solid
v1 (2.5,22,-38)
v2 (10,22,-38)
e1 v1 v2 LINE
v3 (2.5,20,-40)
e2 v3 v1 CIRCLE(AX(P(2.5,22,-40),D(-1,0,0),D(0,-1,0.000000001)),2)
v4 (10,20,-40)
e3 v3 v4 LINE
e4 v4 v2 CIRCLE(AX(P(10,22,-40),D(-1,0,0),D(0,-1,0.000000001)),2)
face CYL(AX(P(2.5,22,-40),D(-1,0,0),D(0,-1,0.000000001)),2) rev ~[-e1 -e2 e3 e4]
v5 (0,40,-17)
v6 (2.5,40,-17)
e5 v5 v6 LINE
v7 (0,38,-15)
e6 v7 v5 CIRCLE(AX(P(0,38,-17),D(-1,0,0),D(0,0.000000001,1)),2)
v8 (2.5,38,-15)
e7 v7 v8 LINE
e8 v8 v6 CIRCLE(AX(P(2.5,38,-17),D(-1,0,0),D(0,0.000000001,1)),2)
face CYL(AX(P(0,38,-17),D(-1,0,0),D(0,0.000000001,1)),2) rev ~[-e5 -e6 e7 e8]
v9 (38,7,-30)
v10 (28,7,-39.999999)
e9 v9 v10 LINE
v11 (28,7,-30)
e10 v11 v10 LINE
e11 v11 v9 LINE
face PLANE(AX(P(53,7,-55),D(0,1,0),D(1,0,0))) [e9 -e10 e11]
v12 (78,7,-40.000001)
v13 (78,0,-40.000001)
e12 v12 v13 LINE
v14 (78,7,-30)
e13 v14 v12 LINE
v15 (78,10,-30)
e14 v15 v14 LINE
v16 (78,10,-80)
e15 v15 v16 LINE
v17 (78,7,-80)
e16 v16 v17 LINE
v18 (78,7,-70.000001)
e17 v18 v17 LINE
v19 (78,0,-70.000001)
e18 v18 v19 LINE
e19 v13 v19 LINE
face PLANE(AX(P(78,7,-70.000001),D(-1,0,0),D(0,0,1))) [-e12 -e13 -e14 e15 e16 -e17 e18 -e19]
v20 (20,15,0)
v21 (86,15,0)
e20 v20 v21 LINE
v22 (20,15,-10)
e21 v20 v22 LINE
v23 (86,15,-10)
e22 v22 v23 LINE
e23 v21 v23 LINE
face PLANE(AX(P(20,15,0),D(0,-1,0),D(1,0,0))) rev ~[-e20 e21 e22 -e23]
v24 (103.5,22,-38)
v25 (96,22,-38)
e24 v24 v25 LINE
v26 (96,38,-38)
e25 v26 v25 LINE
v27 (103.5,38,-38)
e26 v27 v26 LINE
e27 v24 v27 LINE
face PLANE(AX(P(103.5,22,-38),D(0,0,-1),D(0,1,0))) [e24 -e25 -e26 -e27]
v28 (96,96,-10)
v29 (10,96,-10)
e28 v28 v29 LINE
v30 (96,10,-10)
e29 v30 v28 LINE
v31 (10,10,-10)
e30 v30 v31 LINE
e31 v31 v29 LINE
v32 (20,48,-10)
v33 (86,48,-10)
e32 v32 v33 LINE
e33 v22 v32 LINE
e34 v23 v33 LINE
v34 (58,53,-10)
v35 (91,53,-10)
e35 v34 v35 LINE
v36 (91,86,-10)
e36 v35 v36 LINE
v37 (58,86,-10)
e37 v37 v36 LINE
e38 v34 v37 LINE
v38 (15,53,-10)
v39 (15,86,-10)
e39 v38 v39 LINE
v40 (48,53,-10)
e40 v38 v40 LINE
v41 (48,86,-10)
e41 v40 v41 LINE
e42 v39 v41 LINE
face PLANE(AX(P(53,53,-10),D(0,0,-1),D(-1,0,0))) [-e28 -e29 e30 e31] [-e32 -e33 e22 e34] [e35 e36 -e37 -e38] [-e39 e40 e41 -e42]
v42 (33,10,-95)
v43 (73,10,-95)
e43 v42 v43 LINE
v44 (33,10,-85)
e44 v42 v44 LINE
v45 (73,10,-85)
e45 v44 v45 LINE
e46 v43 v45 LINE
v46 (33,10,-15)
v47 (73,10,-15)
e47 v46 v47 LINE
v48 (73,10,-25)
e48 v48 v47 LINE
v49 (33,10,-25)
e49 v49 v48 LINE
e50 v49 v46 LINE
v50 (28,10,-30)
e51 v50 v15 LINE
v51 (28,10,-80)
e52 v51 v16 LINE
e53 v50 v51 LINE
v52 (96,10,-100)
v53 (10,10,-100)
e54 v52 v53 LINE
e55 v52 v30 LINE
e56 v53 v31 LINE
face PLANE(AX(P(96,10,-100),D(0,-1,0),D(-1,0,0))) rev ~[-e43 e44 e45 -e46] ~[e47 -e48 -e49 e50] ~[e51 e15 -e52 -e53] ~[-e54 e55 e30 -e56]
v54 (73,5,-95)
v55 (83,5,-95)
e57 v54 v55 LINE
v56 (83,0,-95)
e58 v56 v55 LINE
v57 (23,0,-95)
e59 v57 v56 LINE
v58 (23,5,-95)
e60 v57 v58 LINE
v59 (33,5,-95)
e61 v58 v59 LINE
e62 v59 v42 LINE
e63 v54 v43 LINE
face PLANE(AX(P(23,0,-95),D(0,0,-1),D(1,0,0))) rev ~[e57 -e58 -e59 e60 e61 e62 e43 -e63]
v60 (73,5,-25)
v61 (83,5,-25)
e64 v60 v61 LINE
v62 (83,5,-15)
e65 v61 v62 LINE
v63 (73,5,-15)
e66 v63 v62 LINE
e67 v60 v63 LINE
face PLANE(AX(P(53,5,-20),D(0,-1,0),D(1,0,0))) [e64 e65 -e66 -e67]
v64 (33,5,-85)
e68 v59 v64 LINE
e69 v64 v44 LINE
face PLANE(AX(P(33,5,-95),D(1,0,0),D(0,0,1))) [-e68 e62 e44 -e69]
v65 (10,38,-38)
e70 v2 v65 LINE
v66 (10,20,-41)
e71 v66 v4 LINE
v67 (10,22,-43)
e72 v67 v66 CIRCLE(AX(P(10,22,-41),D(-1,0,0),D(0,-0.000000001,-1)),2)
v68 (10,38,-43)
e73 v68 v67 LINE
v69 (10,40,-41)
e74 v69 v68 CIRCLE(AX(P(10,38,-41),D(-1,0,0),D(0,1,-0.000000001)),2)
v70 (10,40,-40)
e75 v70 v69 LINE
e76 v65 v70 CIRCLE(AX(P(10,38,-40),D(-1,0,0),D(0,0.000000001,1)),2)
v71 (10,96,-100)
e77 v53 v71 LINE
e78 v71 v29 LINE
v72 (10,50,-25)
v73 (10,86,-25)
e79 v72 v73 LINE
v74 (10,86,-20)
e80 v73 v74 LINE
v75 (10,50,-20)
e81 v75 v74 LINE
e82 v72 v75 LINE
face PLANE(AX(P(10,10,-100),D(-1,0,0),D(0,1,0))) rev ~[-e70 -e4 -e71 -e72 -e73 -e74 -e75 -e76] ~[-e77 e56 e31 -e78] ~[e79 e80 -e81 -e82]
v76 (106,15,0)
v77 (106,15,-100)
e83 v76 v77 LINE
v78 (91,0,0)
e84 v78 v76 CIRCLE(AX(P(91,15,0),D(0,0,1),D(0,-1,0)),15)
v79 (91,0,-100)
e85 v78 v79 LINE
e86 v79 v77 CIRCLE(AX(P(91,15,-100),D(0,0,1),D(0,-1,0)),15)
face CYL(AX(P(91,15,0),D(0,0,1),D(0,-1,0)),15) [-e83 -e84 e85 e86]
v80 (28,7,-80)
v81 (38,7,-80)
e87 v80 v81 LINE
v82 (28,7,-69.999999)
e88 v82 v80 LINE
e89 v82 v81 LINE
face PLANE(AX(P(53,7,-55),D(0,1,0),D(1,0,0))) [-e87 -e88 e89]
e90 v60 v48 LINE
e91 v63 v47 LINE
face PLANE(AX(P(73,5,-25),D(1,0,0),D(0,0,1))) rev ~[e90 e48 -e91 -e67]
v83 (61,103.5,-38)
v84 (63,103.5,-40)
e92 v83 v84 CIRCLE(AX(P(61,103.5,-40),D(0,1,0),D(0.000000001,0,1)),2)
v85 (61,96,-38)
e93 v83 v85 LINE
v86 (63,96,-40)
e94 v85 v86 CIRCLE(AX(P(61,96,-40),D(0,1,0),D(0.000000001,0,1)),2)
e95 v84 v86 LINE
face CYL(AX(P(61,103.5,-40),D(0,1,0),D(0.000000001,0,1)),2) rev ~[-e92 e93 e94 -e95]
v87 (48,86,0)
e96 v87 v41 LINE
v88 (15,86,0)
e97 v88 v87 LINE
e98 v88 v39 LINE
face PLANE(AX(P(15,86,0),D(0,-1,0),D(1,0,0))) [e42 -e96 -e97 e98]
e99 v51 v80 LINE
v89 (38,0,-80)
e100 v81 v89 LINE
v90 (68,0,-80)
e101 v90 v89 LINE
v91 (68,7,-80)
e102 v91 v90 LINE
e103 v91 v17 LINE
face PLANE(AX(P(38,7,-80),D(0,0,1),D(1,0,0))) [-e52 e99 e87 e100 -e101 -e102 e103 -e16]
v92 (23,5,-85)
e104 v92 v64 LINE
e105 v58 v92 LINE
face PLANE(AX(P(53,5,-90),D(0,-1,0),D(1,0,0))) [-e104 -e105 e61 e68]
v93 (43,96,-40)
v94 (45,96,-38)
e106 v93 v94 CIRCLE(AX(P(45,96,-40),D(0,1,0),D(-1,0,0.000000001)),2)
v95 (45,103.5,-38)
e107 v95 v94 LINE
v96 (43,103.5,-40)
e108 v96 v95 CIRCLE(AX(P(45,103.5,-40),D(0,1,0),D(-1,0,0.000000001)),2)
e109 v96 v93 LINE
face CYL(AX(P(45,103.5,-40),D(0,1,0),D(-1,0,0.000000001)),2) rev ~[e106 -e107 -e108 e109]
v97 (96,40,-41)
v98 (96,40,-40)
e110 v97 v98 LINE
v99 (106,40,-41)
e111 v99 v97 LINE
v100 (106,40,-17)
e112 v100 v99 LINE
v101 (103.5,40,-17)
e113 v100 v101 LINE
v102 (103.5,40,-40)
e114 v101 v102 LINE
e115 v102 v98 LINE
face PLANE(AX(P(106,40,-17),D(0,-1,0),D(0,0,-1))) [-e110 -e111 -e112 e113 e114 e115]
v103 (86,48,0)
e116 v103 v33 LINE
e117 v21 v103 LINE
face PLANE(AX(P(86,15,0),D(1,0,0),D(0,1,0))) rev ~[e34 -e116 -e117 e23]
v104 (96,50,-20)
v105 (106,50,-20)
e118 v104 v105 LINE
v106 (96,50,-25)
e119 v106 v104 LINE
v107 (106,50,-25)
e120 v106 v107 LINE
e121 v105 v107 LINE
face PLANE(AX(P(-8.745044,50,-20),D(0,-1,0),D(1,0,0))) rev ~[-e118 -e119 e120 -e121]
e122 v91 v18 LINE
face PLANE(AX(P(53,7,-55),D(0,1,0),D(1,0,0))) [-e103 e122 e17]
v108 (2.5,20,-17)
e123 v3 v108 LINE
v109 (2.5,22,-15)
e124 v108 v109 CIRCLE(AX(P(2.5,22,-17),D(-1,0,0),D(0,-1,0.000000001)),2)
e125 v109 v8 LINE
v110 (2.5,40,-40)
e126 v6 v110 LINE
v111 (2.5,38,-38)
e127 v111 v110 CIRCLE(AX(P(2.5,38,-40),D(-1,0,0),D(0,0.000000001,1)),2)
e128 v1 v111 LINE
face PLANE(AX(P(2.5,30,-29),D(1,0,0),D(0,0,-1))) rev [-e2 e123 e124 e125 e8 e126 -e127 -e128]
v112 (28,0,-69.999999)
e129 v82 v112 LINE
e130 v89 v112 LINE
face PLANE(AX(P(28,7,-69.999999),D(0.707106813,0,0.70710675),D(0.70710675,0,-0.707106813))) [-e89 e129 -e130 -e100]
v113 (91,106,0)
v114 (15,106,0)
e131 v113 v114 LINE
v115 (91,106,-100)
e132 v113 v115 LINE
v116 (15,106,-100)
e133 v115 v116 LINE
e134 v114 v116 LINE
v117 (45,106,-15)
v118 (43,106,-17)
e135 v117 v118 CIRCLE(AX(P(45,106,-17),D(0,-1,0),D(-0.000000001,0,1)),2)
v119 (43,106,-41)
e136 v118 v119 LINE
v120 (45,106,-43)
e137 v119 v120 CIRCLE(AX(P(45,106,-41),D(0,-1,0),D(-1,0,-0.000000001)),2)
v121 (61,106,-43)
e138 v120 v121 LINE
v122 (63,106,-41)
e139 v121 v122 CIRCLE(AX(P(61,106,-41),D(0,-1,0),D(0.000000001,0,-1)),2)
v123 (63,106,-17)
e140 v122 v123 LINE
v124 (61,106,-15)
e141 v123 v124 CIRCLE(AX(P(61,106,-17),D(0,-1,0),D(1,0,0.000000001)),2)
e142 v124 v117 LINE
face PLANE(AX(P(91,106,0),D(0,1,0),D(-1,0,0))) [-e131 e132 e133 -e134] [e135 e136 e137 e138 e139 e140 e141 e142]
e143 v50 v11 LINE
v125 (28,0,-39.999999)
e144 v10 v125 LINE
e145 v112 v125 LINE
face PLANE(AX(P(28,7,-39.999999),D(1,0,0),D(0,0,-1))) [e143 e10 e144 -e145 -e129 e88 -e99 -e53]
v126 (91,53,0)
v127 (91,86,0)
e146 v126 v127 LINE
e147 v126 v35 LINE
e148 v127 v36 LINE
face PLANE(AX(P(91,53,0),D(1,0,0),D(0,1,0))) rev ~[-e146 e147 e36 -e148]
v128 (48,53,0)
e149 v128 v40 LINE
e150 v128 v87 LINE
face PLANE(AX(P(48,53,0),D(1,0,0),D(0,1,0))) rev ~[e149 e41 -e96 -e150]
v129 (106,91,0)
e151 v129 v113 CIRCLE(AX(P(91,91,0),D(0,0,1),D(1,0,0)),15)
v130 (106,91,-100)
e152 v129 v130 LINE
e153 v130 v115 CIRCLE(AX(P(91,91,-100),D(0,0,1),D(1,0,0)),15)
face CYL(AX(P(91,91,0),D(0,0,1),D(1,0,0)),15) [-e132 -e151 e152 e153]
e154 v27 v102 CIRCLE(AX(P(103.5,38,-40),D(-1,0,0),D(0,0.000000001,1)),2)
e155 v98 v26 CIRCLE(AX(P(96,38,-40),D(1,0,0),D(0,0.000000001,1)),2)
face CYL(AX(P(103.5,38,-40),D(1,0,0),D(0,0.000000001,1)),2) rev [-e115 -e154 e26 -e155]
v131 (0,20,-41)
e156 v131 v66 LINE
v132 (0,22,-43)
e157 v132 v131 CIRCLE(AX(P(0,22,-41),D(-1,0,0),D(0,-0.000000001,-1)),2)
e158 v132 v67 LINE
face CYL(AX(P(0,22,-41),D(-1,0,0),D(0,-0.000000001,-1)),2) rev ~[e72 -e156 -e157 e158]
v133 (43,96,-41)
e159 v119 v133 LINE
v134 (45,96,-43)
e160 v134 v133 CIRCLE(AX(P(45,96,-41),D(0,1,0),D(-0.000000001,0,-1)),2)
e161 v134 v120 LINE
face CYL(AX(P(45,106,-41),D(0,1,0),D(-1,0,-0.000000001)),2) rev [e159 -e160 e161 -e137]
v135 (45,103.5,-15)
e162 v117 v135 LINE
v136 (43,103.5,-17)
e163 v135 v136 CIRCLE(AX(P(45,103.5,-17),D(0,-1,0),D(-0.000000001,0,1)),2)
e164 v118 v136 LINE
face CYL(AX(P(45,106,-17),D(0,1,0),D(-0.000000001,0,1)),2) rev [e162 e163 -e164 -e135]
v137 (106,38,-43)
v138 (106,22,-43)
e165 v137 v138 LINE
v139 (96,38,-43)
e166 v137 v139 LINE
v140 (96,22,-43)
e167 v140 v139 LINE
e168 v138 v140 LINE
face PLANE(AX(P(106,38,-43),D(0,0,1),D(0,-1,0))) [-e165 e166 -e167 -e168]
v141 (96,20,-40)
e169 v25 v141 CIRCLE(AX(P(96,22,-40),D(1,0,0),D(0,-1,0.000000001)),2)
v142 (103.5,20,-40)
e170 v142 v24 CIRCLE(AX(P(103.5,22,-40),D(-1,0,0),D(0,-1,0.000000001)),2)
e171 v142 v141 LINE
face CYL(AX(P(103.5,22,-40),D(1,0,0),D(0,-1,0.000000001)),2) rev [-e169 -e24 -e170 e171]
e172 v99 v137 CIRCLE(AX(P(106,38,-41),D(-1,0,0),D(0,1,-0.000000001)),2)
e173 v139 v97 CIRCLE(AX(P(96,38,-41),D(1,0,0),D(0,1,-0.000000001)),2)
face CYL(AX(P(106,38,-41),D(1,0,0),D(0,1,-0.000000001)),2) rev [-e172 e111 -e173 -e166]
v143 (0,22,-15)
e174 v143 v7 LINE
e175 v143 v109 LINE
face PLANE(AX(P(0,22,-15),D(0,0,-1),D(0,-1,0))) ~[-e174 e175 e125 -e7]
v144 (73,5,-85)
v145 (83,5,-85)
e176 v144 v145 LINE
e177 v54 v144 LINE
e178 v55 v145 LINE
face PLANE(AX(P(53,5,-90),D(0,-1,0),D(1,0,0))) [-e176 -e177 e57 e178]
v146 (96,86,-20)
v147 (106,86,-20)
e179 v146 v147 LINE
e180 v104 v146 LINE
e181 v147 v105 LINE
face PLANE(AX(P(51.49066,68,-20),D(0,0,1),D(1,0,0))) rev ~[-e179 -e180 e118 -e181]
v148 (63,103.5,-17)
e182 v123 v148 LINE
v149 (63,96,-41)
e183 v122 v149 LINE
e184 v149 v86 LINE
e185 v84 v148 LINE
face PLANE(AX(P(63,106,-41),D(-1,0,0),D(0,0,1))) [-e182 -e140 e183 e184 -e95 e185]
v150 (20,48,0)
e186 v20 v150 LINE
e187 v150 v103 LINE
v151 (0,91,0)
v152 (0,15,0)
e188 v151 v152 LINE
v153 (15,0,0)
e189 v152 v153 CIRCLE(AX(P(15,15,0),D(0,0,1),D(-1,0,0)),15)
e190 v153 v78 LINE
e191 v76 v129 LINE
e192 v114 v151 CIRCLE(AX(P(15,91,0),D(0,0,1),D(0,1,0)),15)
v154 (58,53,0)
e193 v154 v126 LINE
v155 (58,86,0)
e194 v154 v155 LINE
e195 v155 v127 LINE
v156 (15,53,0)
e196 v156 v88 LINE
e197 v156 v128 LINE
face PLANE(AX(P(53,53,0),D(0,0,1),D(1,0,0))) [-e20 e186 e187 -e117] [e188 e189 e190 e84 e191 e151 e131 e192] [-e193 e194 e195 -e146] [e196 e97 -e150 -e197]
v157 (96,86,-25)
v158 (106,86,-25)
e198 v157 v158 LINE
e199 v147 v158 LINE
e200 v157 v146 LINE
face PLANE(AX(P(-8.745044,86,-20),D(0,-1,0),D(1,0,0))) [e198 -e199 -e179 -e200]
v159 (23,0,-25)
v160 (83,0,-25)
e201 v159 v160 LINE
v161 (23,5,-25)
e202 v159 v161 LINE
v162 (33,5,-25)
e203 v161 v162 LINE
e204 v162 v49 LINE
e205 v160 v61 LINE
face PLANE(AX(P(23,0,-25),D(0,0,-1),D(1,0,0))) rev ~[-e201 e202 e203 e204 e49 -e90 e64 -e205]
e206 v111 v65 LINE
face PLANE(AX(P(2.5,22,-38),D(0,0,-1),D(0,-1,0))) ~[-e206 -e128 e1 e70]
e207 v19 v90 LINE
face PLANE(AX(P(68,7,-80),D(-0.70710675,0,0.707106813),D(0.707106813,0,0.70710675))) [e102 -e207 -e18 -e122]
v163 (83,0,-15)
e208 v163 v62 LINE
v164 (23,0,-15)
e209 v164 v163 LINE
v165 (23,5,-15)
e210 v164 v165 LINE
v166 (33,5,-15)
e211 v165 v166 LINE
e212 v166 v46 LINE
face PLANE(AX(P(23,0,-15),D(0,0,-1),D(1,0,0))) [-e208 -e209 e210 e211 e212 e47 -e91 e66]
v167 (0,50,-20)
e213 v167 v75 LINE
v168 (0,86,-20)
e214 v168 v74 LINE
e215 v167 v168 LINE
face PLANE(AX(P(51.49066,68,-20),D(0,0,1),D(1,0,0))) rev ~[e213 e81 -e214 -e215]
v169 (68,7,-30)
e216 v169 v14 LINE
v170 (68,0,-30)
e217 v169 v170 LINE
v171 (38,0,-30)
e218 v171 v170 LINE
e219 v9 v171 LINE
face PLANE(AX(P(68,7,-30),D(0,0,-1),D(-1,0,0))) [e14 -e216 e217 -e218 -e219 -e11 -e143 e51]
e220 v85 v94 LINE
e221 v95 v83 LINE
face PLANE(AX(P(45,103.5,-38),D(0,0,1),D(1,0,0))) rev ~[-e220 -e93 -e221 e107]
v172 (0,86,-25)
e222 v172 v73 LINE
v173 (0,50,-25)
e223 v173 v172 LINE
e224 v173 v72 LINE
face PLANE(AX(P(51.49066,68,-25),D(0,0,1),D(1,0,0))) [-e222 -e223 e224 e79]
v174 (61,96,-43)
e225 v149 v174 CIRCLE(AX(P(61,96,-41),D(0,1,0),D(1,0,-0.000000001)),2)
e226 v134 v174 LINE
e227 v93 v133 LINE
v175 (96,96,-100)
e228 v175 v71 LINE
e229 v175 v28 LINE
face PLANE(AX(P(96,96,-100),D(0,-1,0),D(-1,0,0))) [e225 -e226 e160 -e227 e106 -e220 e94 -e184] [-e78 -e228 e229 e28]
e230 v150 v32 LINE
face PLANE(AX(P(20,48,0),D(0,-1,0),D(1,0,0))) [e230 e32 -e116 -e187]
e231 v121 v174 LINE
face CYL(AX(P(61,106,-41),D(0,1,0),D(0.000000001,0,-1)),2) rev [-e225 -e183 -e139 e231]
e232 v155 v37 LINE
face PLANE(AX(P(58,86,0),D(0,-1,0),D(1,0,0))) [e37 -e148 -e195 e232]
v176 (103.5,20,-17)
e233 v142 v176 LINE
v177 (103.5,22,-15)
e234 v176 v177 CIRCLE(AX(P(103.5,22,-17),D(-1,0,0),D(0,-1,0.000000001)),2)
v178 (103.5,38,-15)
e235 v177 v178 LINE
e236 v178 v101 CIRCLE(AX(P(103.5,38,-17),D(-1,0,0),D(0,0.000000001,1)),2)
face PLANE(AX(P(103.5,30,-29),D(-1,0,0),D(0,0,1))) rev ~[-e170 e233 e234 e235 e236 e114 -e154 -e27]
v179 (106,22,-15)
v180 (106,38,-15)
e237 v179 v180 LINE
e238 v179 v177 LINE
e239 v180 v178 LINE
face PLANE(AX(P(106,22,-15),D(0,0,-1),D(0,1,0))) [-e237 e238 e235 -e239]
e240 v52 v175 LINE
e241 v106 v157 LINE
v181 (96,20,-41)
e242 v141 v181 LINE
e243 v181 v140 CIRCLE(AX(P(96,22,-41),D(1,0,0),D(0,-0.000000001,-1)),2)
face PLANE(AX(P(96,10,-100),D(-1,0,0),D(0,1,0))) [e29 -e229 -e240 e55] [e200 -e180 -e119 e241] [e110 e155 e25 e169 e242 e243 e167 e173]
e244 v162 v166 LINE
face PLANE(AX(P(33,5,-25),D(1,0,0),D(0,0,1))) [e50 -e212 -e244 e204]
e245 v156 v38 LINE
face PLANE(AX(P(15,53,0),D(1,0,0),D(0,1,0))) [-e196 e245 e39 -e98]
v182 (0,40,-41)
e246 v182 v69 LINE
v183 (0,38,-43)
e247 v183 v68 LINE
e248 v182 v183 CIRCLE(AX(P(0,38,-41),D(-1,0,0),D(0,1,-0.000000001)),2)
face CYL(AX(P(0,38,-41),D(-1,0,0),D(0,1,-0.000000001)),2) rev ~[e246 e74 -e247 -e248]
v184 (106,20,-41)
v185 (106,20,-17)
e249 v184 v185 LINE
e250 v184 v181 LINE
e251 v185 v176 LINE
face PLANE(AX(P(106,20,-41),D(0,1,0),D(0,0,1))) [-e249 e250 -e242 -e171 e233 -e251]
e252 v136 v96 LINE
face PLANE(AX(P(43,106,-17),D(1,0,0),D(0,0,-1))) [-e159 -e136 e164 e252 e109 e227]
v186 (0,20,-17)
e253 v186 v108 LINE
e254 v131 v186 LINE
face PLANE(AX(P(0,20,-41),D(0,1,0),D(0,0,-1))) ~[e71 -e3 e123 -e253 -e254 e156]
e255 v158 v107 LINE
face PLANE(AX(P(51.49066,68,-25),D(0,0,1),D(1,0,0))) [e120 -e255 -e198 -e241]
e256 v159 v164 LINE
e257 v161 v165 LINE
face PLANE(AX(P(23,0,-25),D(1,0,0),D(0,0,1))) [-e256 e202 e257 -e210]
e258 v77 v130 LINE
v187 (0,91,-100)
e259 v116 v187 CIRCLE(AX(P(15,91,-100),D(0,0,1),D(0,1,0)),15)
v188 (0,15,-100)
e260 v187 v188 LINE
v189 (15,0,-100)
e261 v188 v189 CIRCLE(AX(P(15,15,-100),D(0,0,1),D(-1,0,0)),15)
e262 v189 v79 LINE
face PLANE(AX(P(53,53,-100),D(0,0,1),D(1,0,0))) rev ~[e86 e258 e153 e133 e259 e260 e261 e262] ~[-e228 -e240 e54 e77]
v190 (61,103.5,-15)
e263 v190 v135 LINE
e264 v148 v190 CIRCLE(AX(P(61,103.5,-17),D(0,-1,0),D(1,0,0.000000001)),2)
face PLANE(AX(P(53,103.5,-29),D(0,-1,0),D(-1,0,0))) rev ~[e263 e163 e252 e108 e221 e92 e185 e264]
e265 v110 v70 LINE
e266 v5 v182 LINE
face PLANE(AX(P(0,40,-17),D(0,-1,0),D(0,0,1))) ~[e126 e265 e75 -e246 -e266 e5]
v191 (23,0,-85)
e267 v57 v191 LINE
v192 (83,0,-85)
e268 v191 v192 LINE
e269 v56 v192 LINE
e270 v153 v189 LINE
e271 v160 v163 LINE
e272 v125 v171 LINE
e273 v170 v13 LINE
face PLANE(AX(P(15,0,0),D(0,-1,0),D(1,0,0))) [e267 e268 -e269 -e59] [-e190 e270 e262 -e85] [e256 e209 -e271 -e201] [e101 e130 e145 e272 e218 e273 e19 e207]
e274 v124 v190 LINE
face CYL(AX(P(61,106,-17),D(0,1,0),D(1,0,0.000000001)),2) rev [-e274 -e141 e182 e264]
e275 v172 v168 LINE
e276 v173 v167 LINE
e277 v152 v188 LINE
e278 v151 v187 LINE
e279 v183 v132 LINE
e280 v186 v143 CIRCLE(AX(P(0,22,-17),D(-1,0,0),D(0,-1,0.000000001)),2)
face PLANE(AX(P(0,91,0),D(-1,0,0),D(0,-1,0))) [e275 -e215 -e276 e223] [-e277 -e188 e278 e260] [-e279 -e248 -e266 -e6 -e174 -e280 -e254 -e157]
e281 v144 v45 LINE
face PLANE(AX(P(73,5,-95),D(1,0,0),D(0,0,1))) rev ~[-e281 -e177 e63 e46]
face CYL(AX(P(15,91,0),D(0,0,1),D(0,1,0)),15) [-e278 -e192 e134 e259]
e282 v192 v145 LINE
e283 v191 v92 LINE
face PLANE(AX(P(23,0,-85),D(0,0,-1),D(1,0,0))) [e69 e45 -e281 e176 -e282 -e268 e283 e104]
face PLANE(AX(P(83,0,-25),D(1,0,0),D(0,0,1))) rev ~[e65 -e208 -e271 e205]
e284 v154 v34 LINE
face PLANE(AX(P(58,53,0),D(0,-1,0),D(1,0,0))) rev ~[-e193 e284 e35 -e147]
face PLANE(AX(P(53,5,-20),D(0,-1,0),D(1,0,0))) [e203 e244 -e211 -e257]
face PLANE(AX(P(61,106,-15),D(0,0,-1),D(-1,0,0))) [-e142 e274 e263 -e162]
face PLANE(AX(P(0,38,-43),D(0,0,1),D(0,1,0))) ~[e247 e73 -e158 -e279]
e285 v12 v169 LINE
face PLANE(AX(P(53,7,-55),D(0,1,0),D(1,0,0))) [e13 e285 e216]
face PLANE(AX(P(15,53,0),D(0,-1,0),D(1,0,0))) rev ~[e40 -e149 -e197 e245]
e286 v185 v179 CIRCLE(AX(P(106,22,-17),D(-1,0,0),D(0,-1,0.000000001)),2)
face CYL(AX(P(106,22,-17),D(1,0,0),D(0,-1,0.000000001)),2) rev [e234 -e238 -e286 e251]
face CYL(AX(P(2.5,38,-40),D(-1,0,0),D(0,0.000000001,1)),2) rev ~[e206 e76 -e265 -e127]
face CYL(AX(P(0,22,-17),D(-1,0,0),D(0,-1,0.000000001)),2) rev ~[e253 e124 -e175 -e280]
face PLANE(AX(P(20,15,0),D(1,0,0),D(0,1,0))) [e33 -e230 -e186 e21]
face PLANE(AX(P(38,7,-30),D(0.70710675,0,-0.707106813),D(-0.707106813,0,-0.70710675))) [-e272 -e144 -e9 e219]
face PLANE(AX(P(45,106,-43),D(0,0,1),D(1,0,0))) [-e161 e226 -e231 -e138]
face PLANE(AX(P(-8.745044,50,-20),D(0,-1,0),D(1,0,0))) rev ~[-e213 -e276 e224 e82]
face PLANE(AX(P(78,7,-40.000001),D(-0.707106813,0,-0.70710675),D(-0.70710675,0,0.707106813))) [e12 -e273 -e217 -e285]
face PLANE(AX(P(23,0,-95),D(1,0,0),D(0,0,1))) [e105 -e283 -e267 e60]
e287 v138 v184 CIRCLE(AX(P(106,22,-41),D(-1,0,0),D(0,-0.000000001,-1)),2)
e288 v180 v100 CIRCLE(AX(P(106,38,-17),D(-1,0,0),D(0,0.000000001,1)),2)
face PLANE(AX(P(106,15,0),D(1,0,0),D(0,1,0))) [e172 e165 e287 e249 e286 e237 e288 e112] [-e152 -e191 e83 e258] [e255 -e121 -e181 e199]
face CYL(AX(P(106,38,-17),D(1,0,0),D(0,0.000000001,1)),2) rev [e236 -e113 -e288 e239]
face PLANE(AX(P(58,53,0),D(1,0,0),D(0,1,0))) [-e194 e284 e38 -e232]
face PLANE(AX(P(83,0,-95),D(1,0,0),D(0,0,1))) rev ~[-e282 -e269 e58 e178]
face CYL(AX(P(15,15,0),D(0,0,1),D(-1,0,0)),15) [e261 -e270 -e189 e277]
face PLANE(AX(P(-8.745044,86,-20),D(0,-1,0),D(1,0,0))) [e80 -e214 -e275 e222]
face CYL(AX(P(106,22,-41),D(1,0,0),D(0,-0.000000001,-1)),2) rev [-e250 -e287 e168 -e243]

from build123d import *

# Parameters (mm, degrees)
SKETCH1_W           = 66
SKETCH1_H           = 33
SKETCH1_W_2         = 33
BOSS_EXTRUDE1_DEPTH = 100
SKETCH3_W           = 86
SKETCH3_H           = 86
CUT_EXTRUDE1_DEPTH  = 90
CUT_EXTRUDE2_DEPTH  = 2.5
CUT_EXTRUDE3_DEPTH  = 18.5
SKETCH6_W           = 120.471409441
SKETCH6_H           = 36
CUT_EXTRUDE4_DEPTH  = 5
CUT_EXTRUDE5_DEPTH  = 2.5
CUT_EXTRUDE6_DEPTH  = 10
SKETCH9_W           = 60
SKETCH9_H           = 10
CUT_EXTRUDE7_DEPTH  = 5
SKETCH10_W          = 40
SKETCH10_H          = 10
CUT_EXTRUDE8_DEPTH  = 5
SKETCH11_W          = 50
SKETCH11_H          = 50
CUT_EXTRUDE11_DEPTH = 3
CUT_EXTRUDE12_DEPTH = 10


with BuildPart() as part:
    # Sketch1 → Boss-Extrude1 (new body)
    with BuildSketch(Plane.XY):
        with BuildLine():
            Line((15, 0), (91, 0))
            ThreePointArc((91, 0), (101.606601718, 4.393398282), (106, 15))
            Line((106, 15), (106, 91))
            ThreePointArc((106, 91), (101.606601718, 101.606601718), (91, 106))
            Line((91, 106), (15, 106))
            ThreePointArc((15, 106), (4.393398282, 101.606601718), (0, 91))
            Line((0, 91), (0, 15))
            ThreePointArc((0, 15), (4.393398282, 4.393398282), (15, 0))
        make_face()
        with Locations((53, 31.5)):
            Rectangle(SKETCH1_W, SKETCH1_H, mode=Mode.SUBTRACT)
        with Locations((31.5, 69.5)):
            Rectangle(SKETCH1_W_2, SKETCH1_H, mode=Mode.SUBTRACT)
        with Locations((74.5, 69.5)):
            Rectangle(SKETCH1_W_2, SKETCH1_H, mode=Mode.SUBTRACT)
    extrude(amount=-BOSS_EXTRUDE1_DEPTH)

    # Sketch3 → Cut-Extrude1 (cut)
    with BuildSketch(Plane(origin=(0, 0, -100), x_dir=(-1, 0, 0), z_dir=(0, 0, -1))):
        with Locations((-53, 53)):
            Rectangle(SKETCH3_W, SKETCH3_H)
    extrude(amount=-CUT_EXTRUDE1_DEPTH, mode=Mode.SUBTRACT)

    # Sketch4 → Cut-Extrude2 (cut)
    with BuildSketch(Plane(origin=(0, 106, 0), x_dir=(1, 0, 0), z_dir=(0, 1, 0))):
        with BuildLine():
            Line((45, 43), (61, 43))
            ThreePointArc((61, 43), (62.414213562, 42.414213562), (63, 41))
            Line((63, 41), (63, 17))
            ThreePointArc((63, 17), (62.414213562, 15.585786438), (61, 15))
            Line((61, 15), (45, 15))
            ThreePointArc((45, 15), (43.585786438, 15.585786438), (43, 17))
            Line((43, 17), (43, 41))
            ThreePointArc((43, 41), (43.585786438, 42.414213562), (45, 43))
        make_face()
    extrude(amount=-CUT_EXTRUDE2_DEPTH, mode=Mode.SUBTRACT)

    # Sketch5 → Cut-Extrude3 (cut)
    with BuildSketch(Plane(origin=(0, 103.5, 0), x_dir=(1, 0, 0), z_dir=(0, 1, 0))):
        with BuildLine():
            Line((45, 38), (61, 38))
            ThreePointArc((61, 38), (62.414213562, 38.585786438), (63, 40))
            Line((63, 40), (63, 41))
            ThreePointArc((63, 41), (62.414213562, 42.414213562), (61, 43))
            Line((61, 43), (45, 43))
            ThreePointArc((45, 43), (43.585786438, 42.414213562), (43, 41))
            Line((43, 41), (43, 40))
            ThreePointArc((43, 40), (43.585786438, 38.585786438), (45, 38))
        make_face()
    extrude(amount=-CUT_EXTRUDE3_DEPTH, mode=Mode.SUBTRACT)

    # Sketch6 → Cut-Extrude4 (cut)
    with BuildSketch(Plane.XY.offset(-20)):
        with Locations((51.490660341, 68)):
            Rectangle(SKETCH6_W, SKETCH6_H)
    extrude(amount=-CUT_EXTRUDE4_DEPTH, mode=Mode.SUBTRACT)

    # Sketch7 → Cut-Extrude5 (cut)
    with BuildSketch(Plane(origin=(106, 0, 0), x_dir=(0, 0, -1), z_dir=(1, 0, 0))):
        with BuildLine():
            Line((17, 40), (41, 40))
            ThreePointArc((41, 40), (42.414213562, 39.414213562), (43, 38))
            Line((43, 38), (43, 22))
            ThreePointArc((43, 22), (42.414213562, 20.585786438), (41, 20))
            Line((41, 20), (17, 20))
            ThreePointArc((17, 20), (15.585786438, 20.585786438), (15, 22))
            Line((15, 22), (15, 38))
            ThreePointArc((15, 38), (15.585786438, 39.414213562), (17, 40))
        make_face()
    cut_extrude5 = extrude(amount=-CUT_EXTRUDE5_DEPTH, mode=Mode.SUBTRACT)

    # Sketch8 → Cut-Extrude6 (cut)
    with BuildSketch(Plane(origin=(103.5, 0, 0), x_dir=(0, 0, -1), z_dir=(1, 0, 0))):
        with BuildLine():
            Line((40, 40), (41, 40))
            ThreePointArc((41, 40), (42.414213562, 39.414213562), (43, 38))
            Line((43, 38), (43, 22))
            ThreePointArc((43, 22), (42.414213562, 20.585786438), (41, 20))
            Line((41, 20), (40, 20))
            ThreePointArc((40, 20), (38.585786438, 20.585786438), (38, 22))
            Line((38, 22), (38, 38))
            ThreePointArc((38, 38), (38.585786438, 39.414213562), (40, 40))
        make_face()
    cut_extrude6 = extrude(amount=-CUT_EXTRUDE6_DEPTH, mode=Mode.SUBTRACT)

    # Mirror1: Cut-Extrude5, Cut-Extrude6 across plane
    add(cut_extrude5.mirror(Plane(origin=(53, 0, 0), x_dir=(0, 0, 1), z_dir=(1, 0, 0))), mode=Mode.SUBTRACT)
    add(cut_extrude6.mirror(Plane(origin=(53, 0, 0), x_dir=(0, 0, 1), z_dir=(1, 0, 0))), mode=Mode.SUBTRACT)

    # Sketch9 → Cut-Extrude7 (cut)
    with BuildSketch(Plane.XZ):
        with Locations((53, -20)):
            Rectangle(SKETCH9_W, SKETCH9_H)
        with Locations((53, -90)):
            Rectangle(SKETCH9_W, SKETCH9_H)
    extrude(amount=-CUT_EXTRUDE7_DEPTH, mode=Mode.SUBTRACT)

    # Sketch10 → Cut-Extrude8 (cut)
    with BuildSketch(Plane.XZ.offset(-5)):
        with Locations((53, -20)):
            Rectangle(SKETCH10_W, SKETCH10_H)
        with Locations((53, -90)):
            Rectangle(SKETCH10_W, SKETCH10_H)
    extrude(amount=-CUT_EXTRUDE8_DEPTH, mode=Mode.SUBTRACT)

    # Sketch11 → Cut-Extrude11 (cut)
    with BuildSketch(Plane(origin=(0, 10, 0), x_dir=(1, 0, 0), z_dir=(0, 1, 0))):
        with Locations((53, 55)):
            Rectangle(SKETCH11_W, SKETCH11_H)
    extrude(amount=-CUT_EXTRUDE11_DEPTH, mode=Mode.SUBTRACT)

    # Sketch12 → Cut-Extrude12 (cut)
    with BuildSketch(Plane(origin=(0, 7, 0), x_dir=(1, 0, 0), z_dir=(0, 1, 0))):
        Polygon((38, 80), (68, 80), (78, 70.00000089), (78, 40.00000089), (68, 30), (38, 30), (28, 39.99999911), (28, 69.99999911), align=None)
    extrude(amount=-CUT_EXTRUDE12_DEPTH, mode=Mode.SUBTRACT)


solid = part.part
